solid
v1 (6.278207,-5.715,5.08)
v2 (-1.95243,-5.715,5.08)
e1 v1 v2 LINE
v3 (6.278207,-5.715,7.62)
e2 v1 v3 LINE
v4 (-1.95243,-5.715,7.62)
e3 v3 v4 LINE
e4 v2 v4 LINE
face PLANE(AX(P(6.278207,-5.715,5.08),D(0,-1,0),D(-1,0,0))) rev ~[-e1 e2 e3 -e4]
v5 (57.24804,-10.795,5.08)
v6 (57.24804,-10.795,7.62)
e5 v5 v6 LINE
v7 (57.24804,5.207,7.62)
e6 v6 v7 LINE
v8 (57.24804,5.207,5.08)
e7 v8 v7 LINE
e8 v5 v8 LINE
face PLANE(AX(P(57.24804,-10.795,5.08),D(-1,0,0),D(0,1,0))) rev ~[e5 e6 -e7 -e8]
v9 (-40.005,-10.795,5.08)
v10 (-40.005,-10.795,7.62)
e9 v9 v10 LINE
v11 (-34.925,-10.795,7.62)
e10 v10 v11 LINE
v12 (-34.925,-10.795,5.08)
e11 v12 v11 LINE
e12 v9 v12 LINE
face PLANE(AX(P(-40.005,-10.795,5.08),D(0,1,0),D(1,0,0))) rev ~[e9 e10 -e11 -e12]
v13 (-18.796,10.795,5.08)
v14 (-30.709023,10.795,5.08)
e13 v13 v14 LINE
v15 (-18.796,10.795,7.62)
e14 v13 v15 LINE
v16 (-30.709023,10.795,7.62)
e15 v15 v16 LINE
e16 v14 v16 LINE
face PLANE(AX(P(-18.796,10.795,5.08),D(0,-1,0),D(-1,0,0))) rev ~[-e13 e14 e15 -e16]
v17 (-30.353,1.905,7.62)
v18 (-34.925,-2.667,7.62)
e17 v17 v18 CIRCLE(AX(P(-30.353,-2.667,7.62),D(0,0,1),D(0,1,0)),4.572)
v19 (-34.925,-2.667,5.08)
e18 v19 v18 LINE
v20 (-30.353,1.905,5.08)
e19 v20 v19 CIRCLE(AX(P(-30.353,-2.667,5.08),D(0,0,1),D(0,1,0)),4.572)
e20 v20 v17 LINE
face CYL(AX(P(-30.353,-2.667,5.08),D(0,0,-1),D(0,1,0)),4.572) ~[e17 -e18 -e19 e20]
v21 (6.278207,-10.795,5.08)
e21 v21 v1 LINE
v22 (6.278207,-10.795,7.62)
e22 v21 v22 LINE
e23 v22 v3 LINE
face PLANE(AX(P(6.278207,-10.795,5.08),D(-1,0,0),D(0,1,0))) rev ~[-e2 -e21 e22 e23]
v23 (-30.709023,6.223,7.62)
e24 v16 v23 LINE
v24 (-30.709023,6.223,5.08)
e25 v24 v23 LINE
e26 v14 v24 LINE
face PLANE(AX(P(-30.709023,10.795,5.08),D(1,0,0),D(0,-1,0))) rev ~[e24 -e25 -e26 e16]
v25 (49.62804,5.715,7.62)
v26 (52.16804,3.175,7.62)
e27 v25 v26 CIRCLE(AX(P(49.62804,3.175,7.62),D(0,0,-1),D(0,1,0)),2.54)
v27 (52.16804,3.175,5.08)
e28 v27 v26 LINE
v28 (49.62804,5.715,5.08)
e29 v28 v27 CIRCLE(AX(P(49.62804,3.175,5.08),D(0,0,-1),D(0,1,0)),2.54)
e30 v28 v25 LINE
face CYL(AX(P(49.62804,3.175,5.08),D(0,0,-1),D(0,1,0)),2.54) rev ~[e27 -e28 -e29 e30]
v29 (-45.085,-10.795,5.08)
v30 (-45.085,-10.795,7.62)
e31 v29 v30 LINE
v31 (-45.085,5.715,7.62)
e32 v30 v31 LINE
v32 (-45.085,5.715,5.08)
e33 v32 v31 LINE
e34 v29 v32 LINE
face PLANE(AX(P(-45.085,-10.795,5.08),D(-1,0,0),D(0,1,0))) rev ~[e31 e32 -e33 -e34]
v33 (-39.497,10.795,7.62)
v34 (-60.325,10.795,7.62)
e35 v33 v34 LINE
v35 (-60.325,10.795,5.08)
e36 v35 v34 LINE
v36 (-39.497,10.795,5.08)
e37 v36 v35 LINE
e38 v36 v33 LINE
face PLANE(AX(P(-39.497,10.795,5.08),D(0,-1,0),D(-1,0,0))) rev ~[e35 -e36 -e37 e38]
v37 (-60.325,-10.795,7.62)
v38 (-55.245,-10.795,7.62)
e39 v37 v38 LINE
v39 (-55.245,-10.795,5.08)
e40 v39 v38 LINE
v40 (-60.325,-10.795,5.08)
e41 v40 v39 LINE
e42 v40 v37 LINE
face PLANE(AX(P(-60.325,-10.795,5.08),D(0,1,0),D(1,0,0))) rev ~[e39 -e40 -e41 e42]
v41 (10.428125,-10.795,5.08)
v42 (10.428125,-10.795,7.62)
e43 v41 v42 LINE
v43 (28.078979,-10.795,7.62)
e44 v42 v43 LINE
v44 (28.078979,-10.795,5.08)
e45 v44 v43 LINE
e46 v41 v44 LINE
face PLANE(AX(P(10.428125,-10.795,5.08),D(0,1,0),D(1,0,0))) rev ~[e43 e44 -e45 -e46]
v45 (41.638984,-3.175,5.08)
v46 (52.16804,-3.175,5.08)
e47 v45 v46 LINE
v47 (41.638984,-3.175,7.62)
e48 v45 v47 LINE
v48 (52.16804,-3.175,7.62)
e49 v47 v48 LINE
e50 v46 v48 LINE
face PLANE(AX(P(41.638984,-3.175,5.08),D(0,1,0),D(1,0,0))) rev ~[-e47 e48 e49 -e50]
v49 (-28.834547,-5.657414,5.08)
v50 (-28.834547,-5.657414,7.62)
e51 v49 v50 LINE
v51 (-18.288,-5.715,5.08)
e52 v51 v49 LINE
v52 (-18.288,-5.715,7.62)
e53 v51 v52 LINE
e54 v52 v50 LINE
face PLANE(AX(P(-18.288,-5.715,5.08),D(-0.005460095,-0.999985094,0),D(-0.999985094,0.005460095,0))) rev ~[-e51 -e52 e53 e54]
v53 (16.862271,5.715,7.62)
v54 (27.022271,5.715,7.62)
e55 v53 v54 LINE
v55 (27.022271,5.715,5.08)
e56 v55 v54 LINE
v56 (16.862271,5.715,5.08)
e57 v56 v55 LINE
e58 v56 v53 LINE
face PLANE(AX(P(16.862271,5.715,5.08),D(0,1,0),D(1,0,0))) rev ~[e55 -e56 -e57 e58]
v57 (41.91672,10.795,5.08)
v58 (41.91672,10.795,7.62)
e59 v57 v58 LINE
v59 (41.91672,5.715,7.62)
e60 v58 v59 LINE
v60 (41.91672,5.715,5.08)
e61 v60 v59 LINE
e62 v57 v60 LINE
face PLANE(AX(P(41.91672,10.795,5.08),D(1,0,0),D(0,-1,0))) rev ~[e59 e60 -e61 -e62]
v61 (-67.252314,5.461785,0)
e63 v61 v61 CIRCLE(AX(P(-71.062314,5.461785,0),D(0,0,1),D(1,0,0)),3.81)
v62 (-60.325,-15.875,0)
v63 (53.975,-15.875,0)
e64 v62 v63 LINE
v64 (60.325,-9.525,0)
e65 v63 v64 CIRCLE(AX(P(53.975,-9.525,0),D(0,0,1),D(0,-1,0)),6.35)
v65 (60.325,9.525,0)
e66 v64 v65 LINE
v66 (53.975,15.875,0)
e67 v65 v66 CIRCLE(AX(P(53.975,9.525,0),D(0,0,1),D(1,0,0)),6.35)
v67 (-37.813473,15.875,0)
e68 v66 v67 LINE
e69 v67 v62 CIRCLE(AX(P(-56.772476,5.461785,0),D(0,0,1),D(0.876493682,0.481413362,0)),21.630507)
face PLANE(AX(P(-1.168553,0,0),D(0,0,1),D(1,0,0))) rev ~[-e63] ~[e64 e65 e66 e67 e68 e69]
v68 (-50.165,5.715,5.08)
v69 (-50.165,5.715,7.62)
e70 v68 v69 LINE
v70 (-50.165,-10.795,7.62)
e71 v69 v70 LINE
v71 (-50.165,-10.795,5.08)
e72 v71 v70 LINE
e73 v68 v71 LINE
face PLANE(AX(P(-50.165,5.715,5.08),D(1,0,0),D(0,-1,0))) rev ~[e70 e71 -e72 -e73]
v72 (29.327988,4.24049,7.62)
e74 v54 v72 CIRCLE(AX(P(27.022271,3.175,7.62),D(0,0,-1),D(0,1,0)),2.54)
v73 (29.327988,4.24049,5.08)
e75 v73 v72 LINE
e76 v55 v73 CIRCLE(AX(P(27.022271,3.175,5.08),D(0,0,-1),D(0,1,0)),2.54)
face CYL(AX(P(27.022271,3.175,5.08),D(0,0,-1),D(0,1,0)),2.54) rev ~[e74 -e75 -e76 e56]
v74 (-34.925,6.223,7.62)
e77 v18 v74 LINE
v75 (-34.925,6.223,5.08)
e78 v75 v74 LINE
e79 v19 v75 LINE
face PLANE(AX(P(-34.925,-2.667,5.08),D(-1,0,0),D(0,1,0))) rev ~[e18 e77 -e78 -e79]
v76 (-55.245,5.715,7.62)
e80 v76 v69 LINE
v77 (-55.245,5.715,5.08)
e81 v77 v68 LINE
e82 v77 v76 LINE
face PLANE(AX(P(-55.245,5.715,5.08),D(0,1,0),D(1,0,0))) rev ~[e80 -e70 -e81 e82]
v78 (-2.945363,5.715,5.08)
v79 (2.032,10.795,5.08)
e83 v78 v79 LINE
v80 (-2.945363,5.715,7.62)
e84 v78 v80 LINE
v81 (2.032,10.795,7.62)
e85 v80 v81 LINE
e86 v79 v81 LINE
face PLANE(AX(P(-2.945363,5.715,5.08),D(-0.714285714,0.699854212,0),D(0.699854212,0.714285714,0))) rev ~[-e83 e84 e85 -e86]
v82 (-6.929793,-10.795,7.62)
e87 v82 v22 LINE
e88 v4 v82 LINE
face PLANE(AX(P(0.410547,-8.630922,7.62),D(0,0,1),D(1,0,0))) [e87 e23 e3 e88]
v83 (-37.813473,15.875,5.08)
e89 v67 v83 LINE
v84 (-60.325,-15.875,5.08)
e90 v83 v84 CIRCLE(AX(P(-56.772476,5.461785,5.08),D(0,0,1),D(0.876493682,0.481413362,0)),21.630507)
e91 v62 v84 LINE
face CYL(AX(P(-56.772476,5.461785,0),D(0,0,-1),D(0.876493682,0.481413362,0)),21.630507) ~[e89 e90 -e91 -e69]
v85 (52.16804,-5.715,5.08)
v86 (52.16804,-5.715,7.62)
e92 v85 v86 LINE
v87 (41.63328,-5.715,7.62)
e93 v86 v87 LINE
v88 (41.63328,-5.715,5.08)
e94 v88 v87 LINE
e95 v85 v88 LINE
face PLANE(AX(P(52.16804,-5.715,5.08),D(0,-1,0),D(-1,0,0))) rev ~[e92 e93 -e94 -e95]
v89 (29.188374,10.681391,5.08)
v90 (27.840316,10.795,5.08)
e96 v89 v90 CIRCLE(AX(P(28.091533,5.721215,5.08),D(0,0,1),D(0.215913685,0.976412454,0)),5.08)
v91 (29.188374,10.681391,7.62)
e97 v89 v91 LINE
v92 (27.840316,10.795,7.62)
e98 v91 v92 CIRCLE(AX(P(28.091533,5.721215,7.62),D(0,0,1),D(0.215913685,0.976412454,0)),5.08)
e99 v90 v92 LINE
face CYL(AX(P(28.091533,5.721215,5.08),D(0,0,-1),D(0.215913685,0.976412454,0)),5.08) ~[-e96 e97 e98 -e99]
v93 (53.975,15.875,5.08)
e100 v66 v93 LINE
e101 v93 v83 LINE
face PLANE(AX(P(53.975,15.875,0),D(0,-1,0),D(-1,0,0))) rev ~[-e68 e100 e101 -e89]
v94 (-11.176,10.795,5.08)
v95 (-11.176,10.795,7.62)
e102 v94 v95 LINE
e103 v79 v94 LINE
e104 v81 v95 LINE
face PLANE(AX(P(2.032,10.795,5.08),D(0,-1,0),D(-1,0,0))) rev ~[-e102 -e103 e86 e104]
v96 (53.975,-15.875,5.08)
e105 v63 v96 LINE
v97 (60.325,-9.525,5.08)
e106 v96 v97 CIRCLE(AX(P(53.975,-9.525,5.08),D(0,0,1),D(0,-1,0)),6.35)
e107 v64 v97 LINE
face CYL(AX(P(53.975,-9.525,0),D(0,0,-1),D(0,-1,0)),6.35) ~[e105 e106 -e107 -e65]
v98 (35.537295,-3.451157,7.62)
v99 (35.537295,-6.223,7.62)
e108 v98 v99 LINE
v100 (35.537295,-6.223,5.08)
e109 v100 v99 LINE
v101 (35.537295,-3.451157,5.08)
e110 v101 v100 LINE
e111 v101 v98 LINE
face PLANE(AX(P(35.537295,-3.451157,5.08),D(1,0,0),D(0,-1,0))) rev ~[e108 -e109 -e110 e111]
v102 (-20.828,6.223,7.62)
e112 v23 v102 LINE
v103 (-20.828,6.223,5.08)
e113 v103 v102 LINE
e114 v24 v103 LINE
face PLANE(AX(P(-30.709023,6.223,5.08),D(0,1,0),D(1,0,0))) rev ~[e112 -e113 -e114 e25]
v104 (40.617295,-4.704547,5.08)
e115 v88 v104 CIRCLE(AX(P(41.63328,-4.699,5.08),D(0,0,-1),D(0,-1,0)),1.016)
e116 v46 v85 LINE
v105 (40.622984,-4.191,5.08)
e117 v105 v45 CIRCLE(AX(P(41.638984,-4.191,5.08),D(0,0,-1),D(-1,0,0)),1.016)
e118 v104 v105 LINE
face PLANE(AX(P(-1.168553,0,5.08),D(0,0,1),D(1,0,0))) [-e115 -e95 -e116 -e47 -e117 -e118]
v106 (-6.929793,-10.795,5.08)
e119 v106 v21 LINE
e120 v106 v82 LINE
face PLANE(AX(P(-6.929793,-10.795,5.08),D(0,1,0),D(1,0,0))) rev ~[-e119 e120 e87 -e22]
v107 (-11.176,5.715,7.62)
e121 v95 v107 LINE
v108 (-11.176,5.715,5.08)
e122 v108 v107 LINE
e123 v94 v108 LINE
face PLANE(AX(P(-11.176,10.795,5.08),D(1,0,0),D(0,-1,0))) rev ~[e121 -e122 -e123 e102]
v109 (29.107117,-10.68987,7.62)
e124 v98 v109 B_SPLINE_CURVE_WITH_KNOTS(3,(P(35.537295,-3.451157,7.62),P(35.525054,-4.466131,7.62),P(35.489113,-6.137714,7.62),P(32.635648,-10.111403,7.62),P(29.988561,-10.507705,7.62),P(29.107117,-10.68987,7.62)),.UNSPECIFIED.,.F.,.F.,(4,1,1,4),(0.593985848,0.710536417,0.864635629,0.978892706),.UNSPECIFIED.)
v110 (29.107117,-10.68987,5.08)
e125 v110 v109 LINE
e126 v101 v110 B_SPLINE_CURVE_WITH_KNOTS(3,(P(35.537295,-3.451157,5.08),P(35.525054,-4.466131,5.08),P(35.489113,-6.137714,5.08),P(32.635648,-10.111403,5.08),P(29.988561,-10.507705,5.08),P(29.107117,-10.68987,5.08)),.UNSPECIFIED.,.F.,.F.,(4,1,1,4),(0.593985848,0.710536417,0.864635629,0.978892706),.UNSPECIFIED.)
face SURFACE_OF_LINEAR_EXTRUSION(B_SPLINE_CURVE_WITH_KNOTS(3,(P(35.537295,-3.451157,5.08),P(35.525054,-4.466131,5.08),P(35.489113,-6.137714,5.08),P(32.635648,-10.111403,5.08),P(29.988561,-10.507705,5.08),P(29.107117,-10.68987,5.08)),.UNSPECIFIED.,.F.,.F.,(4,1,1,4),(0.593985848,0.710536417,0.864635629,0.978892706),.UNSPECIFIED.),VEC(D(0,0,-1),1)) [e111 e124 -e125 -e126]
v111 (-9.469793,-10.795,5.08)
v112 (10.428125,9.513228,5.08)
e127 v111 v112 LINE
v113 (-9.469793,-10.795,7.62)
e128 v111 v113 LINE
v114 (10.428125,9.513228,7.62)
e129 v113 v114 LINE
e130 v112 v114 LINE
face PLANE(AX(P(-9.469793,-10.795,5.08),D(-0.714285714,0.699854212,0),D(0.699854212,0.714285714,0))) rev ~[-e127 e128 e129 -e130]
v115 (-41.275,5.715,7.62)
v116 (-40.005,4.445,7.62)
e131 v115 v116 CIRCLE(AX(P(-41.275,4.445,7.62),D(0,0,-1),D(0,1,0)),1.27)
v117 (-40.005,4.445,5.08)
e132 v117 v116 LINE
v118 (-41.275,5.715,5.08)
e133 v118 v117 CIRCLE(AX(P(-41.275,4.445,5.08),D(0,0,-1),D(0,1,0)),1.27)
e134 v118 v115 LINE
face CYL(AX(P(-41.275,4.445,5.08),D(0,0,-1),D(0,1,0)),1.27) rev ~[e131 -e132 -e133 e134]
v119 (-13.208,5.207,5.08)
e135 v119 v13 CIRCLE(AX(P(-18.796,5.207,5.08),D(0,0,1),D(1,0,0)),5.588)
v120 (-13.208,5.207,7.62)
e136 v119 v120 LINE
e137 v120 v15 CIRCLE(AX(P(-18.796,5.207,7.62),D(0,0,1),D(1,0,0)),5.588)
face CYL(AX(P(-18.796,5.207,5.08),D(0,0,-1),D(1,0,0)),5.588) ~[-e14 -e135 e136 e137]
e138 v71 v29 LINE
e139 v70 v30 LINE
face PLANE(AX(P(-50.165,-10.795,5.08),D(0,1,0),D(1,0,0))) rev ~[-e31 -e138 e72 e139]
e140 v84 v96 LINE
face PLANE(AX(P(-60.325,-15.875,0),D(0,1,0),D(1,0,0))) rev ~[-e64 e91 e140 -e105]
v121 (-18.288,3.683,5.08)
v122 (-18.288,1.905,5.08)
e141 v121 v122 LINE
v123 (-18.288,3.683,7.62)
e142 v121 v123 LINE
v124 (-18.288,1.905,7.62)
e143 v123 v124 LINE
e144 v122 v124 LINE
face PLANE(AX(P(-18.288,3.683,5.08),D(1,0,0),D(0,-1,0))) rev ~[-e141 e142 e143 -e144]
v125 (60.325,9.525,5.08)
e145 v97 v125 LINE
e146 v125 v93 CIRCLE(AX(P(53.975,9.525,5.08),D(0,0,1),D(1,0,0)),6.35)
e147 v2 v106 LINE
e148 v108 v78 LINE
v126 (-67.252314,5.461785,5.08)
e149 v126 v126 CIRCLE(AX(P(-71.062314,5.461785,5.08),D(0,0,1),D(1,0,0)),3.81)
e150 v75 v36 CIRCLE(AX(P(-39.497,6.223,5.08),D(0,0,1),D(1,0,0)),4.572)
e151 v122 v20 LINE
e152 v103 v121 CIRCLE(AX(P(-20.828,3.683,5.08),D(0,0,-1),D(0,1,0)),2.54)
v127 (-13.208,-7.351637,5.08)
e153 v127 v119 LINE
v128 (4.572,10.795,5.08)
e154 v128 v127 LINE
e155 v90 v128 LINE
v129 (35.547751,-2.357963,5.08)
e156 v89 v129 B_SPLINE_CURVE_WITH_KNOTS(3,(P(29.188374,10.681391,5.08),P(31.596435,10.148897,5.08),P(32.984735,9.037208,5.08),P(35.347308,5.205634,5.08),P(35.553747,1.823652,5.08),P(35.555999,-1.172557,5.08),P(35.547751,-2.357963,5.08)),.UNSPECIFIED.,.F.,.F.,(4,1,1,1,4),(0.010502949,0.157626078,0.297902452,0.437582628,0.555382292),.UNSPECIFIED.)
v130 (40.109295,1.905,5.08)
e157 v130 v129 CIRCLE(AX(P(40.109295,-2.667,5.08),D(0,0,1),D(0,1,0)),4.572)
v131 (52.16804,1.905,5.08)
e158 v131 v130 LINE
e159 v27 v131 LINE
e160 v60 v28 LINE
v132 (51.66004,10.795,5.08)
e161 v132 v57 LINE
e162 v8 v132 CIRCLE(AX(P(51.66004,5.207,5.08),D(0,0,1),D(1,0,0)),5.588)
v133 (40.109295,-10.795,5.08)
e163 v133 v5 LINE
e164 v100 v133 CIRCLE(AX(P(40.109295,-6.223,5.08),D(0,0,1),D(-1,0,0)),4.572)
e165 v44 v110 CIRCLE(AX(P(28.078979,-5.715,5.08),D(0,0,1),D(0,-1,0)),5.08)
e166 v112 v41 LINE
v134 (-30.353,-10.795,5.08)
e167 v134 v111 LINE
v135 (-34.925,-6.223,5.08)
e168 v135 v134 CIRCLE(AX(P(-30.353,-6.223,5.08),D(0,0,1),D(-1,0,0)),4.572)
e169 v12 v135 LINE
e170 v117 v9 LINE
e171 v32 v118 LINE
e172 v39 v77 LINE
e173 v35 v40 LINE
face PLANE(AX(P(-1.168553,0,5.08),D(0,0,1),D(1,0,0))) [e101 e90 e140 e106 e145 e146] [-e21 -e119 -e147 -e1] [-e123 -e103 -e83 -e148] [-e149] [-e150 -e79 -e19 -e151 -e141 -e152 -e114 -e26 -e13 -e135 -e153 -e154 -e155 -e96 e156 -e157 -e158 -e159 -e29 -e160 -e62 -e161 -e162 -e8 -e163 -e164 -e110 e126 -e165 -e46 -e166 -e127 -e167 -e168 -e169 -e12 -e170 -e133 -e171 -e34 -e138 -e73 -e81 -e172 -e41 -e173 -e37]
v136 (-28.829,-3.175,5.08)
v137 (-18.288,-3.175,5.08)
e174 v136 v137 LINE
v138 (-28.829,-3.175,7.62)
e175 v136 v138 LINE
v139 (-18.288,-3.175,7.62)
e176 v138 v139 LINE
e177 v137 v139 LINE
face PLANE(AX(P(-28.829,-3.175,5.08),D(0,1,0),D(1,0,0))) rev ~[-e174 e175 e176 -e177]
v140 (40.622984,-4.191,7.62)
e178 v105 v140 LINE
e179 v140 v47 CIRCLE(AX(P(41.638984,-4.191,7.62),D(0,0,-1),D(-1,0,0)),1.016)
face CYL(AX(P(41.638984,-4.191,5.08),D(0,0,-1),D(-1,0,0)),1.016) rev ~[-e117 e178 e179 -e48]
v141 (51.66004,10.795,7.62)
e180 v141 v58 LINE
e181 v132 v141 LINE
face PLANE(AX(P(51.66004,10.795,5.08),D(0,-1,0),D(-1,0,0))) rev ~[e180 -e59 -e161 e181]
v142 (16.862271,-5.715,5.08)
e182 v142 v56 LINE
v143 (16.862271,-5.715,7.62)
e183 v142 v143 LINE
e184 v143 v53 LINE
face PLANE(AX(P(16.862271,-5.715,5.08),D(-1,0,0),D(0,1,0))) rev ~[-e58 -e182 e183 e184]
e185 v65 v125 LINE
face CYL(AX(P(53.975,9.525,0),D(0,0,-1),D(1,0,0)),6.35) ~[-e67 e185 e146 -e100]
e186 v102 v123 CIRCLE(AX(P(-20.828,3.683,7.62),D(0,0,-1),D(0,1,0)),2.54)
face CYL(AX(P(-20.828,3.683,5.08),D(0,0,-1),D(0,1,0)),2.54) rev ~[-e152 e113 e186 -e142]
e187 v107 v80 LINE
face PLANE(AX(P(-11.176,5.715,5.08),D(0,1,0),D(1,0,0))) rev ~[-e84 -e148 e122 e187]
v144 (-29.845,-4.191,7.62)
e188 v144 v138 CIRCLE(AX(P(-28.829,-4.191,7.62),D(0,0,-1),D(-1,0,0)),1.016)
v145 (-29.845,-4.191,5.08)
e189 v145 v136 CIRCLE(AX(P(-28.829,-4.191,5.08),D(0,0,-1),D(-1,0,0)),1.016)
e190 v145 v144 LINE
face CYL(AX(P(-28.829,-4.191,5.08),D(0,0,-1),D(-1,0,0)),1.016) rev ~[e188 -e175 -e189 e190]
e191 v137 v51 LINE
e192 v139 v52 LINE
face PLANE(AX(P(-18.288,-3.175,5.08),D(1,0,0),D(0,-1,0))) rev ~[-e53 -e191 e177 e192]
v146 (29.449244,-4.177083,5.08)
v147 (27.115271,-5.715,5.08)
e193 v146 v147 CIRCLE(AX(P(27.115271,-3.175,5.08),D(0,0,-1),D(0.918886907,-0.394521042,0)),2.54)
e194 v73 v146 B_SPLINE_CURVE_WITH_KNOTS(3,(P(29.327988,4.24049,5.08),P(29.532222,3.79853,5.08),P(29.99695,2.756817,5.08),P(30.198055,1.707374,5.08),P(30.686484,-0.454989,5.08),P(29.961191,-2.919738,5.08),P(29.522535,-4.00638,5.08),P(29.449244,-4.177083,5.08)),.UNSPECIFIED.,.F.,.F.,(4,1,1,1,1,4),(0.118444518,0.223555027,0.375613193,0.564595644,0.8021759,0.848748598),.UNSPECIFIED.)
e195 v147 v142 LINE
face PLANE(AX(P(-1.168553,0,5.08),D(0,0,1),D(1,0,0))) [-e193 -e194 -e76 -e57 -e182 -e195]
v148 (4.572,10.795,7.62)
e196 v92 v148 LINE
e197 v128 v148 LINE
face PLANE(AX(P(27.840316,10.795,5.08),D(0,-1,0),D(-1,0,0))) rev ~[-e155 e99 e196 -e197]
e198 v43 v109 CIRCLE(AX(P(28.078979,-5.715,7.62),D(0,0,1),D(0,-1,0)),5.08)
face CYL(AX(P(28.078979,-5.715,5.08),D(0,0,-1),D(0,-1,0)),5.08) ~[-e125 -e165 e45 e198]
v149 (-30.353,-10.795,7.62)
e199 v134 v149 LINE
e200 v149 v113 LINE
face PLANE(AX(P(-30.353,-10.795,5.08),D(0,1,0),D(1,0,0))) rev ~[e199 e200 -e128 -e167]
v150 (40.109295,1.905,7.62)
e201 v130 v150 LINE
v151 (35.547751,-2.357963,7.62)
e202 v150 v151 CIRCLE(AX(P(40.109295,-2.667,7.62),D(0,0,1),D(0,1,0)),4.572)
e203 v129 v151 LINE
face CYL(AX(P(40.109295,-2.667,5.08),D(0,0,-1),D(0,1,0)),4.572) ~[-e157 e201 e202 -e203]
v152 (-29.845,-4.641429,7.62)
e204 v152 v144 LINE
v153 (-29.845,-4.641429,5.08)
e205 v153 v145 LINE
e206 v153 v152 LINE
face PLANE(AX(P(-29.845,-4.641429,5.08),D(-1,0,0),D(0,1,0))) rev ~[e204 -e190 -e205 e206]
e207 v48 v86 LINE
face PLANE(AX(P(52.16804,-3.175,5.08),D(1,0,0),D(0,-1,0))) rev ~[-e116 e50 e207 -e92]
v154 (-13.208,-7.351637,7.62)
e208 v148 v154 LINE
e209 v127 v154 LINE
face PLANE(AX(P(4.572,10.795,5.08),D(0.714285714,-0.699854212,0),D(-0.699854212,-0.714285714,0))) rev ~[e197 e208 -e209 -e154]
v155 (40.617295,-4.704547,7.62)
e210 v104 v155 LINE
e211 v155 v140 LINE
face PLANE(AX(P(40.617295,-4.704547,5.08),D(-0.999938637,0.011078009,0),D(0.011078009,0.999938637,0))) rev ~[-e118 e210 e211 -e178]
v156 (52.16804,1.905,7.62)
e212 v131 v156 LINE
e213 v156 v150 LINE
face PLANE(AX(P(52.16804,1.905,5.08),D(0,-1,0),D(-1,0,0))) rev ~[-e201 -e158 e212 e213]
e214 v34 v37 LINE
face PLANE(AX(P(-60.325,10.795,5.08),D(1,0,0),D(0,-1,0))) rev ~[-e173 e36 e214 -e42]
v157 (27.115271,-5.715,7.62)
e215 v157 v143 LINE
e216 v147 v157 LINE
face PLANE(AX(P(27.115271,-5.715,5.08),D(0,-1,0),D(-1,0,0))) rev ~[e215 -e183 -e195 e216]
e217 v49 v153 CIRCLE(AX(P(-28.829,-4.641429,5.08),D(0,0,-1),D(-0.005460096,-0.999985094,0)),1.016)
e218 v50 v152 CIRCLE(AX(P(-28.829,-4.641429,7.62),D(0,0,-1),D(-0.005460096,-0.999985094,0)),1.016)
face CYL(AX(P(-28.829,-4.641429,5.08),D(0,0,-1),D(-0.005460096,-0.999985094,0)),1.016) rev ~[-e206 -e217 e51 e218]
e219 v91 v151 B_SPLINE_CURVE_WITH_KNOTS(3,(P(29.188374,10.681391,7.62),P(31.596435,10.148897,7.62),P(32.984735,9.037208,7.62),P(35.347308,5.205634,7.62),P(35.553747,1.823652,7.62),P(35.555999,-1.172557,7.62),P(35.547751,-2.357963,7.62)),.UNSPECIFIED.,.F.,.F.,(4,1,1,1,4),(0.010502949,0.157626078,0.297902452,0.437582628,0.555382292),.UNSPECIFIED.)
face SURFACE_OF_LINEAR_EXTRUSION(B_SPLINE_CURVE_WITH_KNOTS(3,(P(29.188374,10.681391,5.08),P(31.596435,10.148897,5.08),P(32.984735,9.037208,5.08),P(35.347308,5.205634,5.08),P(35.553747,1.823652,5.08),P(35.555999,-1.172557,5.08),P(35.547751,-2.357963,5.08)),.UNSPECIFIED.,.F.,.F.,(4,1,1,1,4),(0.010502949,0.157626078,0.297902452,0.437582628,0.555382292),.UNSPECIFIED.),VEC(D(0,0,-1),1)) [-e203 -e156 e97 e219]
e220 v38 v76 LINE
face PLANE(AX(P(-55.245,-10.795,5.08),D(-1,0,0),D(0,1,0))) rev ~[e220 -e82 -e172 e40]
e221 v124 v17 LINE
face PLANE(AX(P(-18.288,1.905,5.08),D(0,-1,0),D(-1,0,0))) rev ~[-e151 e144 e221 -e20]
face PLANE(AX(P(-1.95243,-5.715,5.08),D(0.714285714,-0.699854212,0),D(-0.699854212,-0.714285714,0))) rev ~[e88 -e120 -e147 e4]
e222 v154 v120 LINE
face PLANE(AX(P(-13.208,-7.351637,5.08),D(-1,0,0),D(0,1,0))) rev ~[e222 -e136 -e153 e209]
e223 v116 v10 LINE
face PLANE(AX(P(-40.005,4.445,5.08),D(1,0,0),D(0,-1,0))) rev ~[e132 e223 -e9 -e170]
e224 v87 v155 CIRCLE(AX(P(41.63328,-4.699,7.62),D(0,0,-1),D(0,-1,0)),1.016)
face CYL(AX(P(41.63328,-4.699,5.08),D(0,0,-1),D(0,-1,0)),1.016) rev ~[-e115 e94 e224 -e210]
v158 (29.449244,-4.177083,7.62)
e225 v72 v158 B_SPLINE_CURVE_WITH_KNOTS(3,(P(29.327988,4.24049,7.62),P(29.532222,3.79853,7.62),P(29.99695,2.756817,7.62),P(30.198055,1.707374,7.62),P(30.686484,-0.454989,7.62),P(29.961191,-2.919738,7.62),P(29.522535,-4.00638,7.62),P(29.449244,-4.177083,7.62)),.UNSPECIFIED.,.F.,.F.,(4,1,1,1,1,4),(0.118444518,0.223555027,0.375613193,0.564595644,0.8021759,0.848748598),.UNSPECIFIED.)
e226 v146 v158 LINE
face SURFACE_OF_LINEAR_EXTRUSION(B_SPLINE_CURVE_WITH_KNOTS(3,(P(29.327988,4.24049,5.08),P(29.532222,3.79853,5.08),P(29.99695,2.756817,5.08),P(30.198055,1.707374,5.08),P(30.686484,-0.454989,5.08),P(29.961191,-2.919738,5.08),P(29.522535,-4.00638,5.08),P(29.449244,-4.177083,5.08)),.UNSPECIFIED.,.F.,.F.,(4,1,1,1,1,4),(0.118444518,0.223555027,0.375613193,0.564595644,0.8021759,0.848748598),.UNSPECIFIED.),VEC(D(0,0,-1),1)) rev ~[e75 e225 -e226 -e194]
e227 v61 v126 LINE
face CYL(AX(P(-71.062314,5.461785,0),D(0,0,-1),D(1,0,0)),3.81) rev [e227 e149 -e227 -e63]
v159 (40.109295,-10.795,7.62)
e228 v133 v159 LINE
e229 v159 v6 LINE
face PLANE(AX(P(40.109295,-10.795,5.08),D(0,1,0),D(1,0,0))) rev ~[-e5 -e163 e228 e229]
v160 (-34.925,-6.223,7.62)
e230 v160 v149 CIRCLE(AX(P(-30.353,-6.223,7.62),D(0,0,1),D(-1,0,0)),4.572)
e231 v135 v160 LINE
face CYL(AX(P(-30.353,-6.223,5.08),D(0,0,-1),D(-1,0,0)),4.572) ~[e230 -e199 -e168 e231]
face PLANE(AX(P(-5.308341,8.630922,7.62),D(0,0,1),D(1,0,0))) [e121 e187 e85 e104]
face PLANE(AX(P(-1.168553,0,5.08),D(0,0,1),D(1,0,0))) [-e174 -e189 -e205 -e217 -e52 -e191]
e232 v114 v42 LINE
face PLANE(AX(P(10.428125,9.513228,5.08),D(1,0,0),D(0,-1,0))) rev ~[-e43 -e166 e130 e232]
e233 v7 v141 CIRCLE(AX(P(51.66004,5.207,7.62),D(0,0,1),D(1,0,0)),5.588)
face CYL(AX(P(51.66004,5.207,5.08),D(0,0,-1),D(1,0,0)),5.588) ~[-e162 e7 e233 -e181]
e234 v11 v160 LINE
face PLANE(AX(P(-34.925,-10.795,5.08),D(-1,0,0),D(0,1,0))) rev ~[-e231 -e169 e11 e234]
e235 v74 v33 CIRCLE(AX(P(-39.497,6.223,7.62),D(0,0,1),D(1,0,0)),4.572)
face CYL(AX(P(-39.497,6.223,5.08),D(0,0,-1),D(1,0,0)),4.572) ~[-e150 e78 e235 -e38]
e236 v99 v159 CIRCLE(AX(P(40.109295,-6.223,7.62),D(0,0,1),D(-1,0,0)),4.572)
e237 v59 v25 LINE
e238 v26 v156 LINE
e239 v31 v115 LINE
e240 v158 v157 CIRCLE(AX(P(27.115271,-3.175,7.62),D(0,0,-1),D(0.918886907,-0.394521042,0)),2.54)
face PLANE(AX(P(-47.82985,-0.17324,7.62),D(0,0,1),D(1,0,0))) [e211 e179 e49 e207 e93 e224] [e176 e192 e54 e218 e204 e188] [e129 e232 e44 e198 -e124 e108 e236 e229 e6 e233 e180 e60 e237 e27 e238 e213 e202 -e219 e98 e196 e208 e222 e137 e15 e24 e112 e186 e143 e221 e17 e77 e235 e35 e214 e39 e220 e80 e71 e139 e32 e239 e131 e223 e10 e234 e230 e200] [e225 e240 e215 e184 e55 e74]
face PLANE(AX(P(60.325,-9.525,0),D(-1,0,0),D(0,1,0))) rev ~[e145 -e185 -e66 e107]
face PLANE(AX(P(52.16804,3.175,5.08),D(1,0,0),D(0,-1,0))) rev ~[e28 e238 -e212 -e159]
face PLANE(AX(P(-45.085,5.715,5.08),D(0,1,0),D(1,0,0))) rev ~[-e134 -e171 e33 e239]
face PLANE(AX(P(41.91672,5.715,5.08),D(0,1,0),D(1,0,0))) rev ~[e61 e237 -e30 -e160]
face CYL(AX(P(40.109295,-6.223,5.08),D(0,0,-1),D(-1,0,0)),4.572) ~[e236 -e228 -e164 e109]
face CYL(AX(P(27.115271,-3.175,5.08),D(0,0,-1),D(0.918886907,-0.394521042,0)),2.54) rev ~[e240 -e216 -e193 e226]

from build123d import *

# Parameters (mm, degrees)
F0_R     = 3.81
F1_DEPTH = 5.08
F3_DEPTH = 2.54


with BuildPart() as f1:
    # F0 (on Top) → F1 (new body)
    with BuildSketch(Plane.XY):
        with BuildLine():
            Line((-60.325, -15.875), (53.975, -15.875))
            ThreePointArc((53.975, -15.875), (58.4651280605, -14.0151280605), (60.325, -9.525))
            Line((60.325, -9.525), (60.325, 9.525))
            ThreePointArc((60.325, 9.525), (58.4651280605, 14.0151280605), (53.975, 15.875))
            Line((53.975, 15.875), (-37.8134731769, 15.875))
            Line((-37.8134731769, 15.875), (-60.325, 15.875))
            Line((-60.325, 15.875), (-60.325, -15.875))
        make_face()
        with BuildLine():
            ThreePointArc((-37.8134731769, 15.875), (-74.4177446928, 17.9727124446), (-60.325, -15.875))
            Line((-60.325, -15.875), (-60.325, 15.875))
            Line((-60.325, 15.875), (-37.8134731769, 15.875))
        make_face()
        with Locations((-71.0623143972, 5.4617850045)):
            Circle(F0_R, mode=Mode.SUBTRACT)
    extrude(amount=F1_DEPTH)

    # F2 (on face) → F3 (join)
    with BuildSketch(Plane.XY.offset(5.08)):
        with BuildLine():
            Line((-55.2302619128, 10.795), (-60.325, 10.795))
            Line((-60.325, 10.795), (-60.325, -10.795))
            Line((-60.325, -10.795), (-55.245, -10.795))
            Line((-55.245, -10.795), (-55.245, 5.715))
            Line((-55.245, 5.715), (-50.165, 5.715))
            Line((-50.165, 5.715), (-50.165, -10.795))
            Line((-50.165, -10.795), (-45.085, -10.795))
            Line((-45.085, -10.795), (-45.085, 5.715))
            Line((-45.085, 5.715), (-41.275, 5.715))
            ThreePointArc((-41.275, 5.715), (-40.3769743879, 5.3430256121), (-40.005, 4.445))
            Line((-40.005, 4.445), (-40.005, -10.795))
            Line((-40.005, -10.795), (-34.925, -10.795))
            Line((-34.925, -10.795), (-34.925, -6.223))
            Line((-34.925, -6.223), (-34.925, -2.667))
            Line((-34.925, -2.667), (-34.925, 6.223))
            ThreePointArc((-34.925, 6.223), (-36.2641077964, 9.4558922036), (-39.497, 10.795))
            Line((-39.497, 10.795), (-55.2302619128, 10.795))
        make_face()
        with BuildLine():
            ThreePointArc((-30.353, 1.905), (-33.5858922036, 0.5658922036), (-34.925, -2.667))
            Line((-34.925, -2.667), (-34.925, -6.223))
            ThreePointArc((-34.925, -6.223), (-33.5858922036, -9.4558922036), (-30.353, -10.795))
            Line((-30.353, -10.795), (-13.208, -10.795))
            Line((-13.208, -10.795), (-13.208, -7.3516365111))
            Line((-13.208, -7.3516365111), (-13.208, 5.207))
            ThreePointArc((-13.208, 5.207), (-14.8446873067, 9.1583126933), (-18.796, 10.795))
            Line((-18.796, 10.795), (-30.7090226255, 10.795))
            Line((-30.7090226255, 10.795), (-30.7090226255, 6.223))
            Line((-30.7090226255, 6.223), (-20.828, 6.223))
            ThreePointArc((-20.828, 6.223), (-19.0319487758, 5.4790512242), (-18.288, 3.683))
            Line((-18.288, 3.683), (-18.288, 1.905))
            Line((-18.288, 1.905), (-30.353, 1.905))
        make_face()
        with BuildLine():
            ThreePointArc((-28.834547457, -5.6574139856), (-29.5493791419, -5.3578856134), (-29.845, -4.6414291305))
            Line((-29.845, -4.6414291305), (-29.845, -4.191))
            ThreePointArc((-29.845, -4.191), (-29.5474204897, -3.4725795103), (-28.829, -3.175))
            Line((-28.829, -3.175), (-18.288, -3.175))
            Line((-18.288, -3.175), (-18.288, -5.715))
            Line((-18.288, -5.715), (-28.834547457, -5.6574139856))
        make_face(mode=Mode.SUBTRACT)
        Polygon((-13.208, -7.3516365111), (-13.208, -10.795), (-9.4697934187, -10.795), (10.4281250387, 9.5132279851), (11.684, 10.795), (4.572, 10.795), align=None)
        with BuildLine():
            Line((11.684, 10.795), (10.4281250387, 9.5132279851))
            Line((10.4281250387, 9.5132279851), (10.4281250387, -10.795))
            Line((10.4281250387, -10.795), (11.684, -10.795))
            Line((11.684, -10.795), (28.078978887, -10.795))
            ThreePointArc((28.078978887, -10.795), (28.5957282879, -10.7686491822), (29.107116756, -10.6898701011))
            add(Edge.make_bspline(
                [(35.5372950435, -3.4511573613), (35.5250543244, -4.4661306449), (35.4891126843, -6.1377135055), (32.635648268, -10.1114027049), (29.9885608199, -10.5077053404), (29.107116756, -10.6898701011)],
                knots=[0.5939858484, 0.5939858484, 0.5939858484, 0.5939858484, 0.7105364175, 0.864635629, 0.978892706, 0.978892706, 0.978892706, 0.978892706], degree=3))
            Line((35.5372950435, -3.4511573613), (35.5372950435, -2.667))
            ThreePointArc((35.5372950435, -2.667), (35.5399098941, -2.512392897), (35.5477514548, -2.357962642))
            add(Edge.make_bspline(
                [(29.1883741966, 10.6813906829), (31.5964348364, 10.1488972227), (32.9847348448, 9.0372084423), (35.3473079701, 5.2056335604), (35.5537470863, 1.8236524058), (35.5559992426, -1.172556692), (35.5477514548, -2.357962642)],
                knots=[0.0105029487, 0.0105029487, 0.0105029487, 0.0105029487, 0.1576260779, 0.2979024518, 0.437582628, 0.5553822916, 0.5553822916, 0.5553822916, 0.5553822916], degree=3))
            ThreePointArc((29.1883741966, 10.6813906829), (28.518143702, 10.7832706341), (27.8403156543, 10.795))
            Line((27.8403156543, 10.795), (11.684, 10.795))
        make_face()
        with BuildLine():
            Line((27.1152709564, -5.715), (16.8622714295, -5.715))
            Line((16.8622714295, -5.715), (16.8622714295, 5.715))
            Line((16.8622714295, 5.715), (27.0222714295, 5.715))
            ThreePointArc((27.0222714295, 5.715), (28.3907110889, 5.3148534759), (29.3279882498, 4.2404904712))
            add(Edge.make_bspline(
                [(29.3279882498, 4.2404904712), (29.5322218703, 3.7985297904), (29.996949748, 2.7568174276), (30.1980545584, 1.7073743386), (30.6864836685, -0.4549893431), (29.9611913367, -2.9197379799), (29.5225347313, -4.0063798282), (29.4492436994, -4.177083447)],
                knots=[0.1184445178, 0.1184445178, 0.1184445178, 0.1184445178, 0.2235550269, 0.3756131932, 0.564595644, 0.8021758999, 0.8487485979, 0.8487485979, 0.8487485979, 0.8487485979], degree=3))
            ThreePointArc((29.4492436994, -4.177083447), (28.5128238256, -5.2959540253), (27.1152709564, -5.715))
        make_face(mode=Mode.SUBTRACT)
        with BuildLine():
            ThreePointArc((40.1092950435, 1.905), (36.9875755494, 0.6733669559), (35.5477514548, -2.357962642))
            add(Edge.make_bspline(
                [(35.5477514548, -2.357962642), (35.5450486122, -2.7464262804), (35.5413493806, -3.1149807203), (35.5372950435, -3.4511573613)],
                knots=[0.5553822916, 0.5553822916, 0.5553822916, 0.5553822916, 0.5939858484, 0.5939858484, 0.5939858484, 0.5939858484], degree=3))
            Line((35.5372950435, -3.4511573613), (35.5372950435, -6.223))
            ThreePointArc((35.5372950435, -6.223), (36.8764028399, -9.4558922036), (40.1092950435, -10.795))
            Line((40.1092950435, -10.795), (57.2480400174, -10.795))
            Line((57.2480400174, -10.795), (57.2480400174, 5.207))
            ThreePointArc((57.2480400174, 5.207), (55.6113527107, 9.1583126933), (51.6600400174, 10.795))
            Line((51.6600400174, 10.795), (46.4887204891, 10.795))
            Line((46.4887204891, 10.795), (41.9167204891, 10.795))
            Line((41.9167204891, 10.795), (41.9167204891, 6.223))
            Line((41.9167204891, 6.223), (41.9167204891, 5.715))
            Line((41.9167204891, 5.715), (49.6280400174, 5.715))
            ThreePointArc((49.6280400174, 5.715), (51.4240912417, 4.9710512242), (52.1680400174, 3.175))
            Line((52.1680400174, 3.175), (52.1680400174, 1.905))
            Line((52.1680400174, 1.905), (40.1092950435, 1.905))
        make_face()
        with BuildLine():
            ThreePointArc((40.622984476, -4.191), (40.9205639863, -3.4725795103), (41.638984476, -3.175))
            Line((41.638984476, -3.175), (52.1680400174, -3.175))
            Line((52.1680400174, -3.175), (52.1680400174, -5.715))
            Line((52.1680400174, -5.715), (41.6332798985, -5.715))
            ThreePointArc((41.6332798985, -5.715), (40.9168234157, -5.4193791419), (40.6172950435, -4.704547457))
            Line((40.6172950435, -4.704547457), (40.622984476, -4.191))
        make_face(mode=Mode.SUBTRACT)
        with BuildLine():
            add(Edge.make_bspline(
                [(35.5477514548, -2.357962642), (35.5450486122, -2.7464262804), (35.5413493806, -3.1149807203), (35.5372950435, -3.4511573613)],
                knots=[0.5553822916, 0.5553822916, 0.5553822916, 0.5553822916, 0.5939858484, 0.5939858484, 0.5939858484, 0.5939858484], degree=3))
            ThreePointArc((35.5477514548, -2.357962642), (35.5399098941, -2.512392897), (35.5372950435, -2.667))
            Line((35.5372950435, -2.667), (35.5372950435, -3.4511573613))
        make_face()
        Polygon((-2.9453631573, 5.715), (2.032, 10.795), (-11.176, 10.795), (-11.176, 5.715), align=None)
        Polygon((-1.9524302613, -5.715), (-6.9297934187, -10.795), (6.2782065813, -10.795), (6.2782065813, -5.715), align=None)
    extrude(amount=F3_DEPTH)


solid = f1.part
